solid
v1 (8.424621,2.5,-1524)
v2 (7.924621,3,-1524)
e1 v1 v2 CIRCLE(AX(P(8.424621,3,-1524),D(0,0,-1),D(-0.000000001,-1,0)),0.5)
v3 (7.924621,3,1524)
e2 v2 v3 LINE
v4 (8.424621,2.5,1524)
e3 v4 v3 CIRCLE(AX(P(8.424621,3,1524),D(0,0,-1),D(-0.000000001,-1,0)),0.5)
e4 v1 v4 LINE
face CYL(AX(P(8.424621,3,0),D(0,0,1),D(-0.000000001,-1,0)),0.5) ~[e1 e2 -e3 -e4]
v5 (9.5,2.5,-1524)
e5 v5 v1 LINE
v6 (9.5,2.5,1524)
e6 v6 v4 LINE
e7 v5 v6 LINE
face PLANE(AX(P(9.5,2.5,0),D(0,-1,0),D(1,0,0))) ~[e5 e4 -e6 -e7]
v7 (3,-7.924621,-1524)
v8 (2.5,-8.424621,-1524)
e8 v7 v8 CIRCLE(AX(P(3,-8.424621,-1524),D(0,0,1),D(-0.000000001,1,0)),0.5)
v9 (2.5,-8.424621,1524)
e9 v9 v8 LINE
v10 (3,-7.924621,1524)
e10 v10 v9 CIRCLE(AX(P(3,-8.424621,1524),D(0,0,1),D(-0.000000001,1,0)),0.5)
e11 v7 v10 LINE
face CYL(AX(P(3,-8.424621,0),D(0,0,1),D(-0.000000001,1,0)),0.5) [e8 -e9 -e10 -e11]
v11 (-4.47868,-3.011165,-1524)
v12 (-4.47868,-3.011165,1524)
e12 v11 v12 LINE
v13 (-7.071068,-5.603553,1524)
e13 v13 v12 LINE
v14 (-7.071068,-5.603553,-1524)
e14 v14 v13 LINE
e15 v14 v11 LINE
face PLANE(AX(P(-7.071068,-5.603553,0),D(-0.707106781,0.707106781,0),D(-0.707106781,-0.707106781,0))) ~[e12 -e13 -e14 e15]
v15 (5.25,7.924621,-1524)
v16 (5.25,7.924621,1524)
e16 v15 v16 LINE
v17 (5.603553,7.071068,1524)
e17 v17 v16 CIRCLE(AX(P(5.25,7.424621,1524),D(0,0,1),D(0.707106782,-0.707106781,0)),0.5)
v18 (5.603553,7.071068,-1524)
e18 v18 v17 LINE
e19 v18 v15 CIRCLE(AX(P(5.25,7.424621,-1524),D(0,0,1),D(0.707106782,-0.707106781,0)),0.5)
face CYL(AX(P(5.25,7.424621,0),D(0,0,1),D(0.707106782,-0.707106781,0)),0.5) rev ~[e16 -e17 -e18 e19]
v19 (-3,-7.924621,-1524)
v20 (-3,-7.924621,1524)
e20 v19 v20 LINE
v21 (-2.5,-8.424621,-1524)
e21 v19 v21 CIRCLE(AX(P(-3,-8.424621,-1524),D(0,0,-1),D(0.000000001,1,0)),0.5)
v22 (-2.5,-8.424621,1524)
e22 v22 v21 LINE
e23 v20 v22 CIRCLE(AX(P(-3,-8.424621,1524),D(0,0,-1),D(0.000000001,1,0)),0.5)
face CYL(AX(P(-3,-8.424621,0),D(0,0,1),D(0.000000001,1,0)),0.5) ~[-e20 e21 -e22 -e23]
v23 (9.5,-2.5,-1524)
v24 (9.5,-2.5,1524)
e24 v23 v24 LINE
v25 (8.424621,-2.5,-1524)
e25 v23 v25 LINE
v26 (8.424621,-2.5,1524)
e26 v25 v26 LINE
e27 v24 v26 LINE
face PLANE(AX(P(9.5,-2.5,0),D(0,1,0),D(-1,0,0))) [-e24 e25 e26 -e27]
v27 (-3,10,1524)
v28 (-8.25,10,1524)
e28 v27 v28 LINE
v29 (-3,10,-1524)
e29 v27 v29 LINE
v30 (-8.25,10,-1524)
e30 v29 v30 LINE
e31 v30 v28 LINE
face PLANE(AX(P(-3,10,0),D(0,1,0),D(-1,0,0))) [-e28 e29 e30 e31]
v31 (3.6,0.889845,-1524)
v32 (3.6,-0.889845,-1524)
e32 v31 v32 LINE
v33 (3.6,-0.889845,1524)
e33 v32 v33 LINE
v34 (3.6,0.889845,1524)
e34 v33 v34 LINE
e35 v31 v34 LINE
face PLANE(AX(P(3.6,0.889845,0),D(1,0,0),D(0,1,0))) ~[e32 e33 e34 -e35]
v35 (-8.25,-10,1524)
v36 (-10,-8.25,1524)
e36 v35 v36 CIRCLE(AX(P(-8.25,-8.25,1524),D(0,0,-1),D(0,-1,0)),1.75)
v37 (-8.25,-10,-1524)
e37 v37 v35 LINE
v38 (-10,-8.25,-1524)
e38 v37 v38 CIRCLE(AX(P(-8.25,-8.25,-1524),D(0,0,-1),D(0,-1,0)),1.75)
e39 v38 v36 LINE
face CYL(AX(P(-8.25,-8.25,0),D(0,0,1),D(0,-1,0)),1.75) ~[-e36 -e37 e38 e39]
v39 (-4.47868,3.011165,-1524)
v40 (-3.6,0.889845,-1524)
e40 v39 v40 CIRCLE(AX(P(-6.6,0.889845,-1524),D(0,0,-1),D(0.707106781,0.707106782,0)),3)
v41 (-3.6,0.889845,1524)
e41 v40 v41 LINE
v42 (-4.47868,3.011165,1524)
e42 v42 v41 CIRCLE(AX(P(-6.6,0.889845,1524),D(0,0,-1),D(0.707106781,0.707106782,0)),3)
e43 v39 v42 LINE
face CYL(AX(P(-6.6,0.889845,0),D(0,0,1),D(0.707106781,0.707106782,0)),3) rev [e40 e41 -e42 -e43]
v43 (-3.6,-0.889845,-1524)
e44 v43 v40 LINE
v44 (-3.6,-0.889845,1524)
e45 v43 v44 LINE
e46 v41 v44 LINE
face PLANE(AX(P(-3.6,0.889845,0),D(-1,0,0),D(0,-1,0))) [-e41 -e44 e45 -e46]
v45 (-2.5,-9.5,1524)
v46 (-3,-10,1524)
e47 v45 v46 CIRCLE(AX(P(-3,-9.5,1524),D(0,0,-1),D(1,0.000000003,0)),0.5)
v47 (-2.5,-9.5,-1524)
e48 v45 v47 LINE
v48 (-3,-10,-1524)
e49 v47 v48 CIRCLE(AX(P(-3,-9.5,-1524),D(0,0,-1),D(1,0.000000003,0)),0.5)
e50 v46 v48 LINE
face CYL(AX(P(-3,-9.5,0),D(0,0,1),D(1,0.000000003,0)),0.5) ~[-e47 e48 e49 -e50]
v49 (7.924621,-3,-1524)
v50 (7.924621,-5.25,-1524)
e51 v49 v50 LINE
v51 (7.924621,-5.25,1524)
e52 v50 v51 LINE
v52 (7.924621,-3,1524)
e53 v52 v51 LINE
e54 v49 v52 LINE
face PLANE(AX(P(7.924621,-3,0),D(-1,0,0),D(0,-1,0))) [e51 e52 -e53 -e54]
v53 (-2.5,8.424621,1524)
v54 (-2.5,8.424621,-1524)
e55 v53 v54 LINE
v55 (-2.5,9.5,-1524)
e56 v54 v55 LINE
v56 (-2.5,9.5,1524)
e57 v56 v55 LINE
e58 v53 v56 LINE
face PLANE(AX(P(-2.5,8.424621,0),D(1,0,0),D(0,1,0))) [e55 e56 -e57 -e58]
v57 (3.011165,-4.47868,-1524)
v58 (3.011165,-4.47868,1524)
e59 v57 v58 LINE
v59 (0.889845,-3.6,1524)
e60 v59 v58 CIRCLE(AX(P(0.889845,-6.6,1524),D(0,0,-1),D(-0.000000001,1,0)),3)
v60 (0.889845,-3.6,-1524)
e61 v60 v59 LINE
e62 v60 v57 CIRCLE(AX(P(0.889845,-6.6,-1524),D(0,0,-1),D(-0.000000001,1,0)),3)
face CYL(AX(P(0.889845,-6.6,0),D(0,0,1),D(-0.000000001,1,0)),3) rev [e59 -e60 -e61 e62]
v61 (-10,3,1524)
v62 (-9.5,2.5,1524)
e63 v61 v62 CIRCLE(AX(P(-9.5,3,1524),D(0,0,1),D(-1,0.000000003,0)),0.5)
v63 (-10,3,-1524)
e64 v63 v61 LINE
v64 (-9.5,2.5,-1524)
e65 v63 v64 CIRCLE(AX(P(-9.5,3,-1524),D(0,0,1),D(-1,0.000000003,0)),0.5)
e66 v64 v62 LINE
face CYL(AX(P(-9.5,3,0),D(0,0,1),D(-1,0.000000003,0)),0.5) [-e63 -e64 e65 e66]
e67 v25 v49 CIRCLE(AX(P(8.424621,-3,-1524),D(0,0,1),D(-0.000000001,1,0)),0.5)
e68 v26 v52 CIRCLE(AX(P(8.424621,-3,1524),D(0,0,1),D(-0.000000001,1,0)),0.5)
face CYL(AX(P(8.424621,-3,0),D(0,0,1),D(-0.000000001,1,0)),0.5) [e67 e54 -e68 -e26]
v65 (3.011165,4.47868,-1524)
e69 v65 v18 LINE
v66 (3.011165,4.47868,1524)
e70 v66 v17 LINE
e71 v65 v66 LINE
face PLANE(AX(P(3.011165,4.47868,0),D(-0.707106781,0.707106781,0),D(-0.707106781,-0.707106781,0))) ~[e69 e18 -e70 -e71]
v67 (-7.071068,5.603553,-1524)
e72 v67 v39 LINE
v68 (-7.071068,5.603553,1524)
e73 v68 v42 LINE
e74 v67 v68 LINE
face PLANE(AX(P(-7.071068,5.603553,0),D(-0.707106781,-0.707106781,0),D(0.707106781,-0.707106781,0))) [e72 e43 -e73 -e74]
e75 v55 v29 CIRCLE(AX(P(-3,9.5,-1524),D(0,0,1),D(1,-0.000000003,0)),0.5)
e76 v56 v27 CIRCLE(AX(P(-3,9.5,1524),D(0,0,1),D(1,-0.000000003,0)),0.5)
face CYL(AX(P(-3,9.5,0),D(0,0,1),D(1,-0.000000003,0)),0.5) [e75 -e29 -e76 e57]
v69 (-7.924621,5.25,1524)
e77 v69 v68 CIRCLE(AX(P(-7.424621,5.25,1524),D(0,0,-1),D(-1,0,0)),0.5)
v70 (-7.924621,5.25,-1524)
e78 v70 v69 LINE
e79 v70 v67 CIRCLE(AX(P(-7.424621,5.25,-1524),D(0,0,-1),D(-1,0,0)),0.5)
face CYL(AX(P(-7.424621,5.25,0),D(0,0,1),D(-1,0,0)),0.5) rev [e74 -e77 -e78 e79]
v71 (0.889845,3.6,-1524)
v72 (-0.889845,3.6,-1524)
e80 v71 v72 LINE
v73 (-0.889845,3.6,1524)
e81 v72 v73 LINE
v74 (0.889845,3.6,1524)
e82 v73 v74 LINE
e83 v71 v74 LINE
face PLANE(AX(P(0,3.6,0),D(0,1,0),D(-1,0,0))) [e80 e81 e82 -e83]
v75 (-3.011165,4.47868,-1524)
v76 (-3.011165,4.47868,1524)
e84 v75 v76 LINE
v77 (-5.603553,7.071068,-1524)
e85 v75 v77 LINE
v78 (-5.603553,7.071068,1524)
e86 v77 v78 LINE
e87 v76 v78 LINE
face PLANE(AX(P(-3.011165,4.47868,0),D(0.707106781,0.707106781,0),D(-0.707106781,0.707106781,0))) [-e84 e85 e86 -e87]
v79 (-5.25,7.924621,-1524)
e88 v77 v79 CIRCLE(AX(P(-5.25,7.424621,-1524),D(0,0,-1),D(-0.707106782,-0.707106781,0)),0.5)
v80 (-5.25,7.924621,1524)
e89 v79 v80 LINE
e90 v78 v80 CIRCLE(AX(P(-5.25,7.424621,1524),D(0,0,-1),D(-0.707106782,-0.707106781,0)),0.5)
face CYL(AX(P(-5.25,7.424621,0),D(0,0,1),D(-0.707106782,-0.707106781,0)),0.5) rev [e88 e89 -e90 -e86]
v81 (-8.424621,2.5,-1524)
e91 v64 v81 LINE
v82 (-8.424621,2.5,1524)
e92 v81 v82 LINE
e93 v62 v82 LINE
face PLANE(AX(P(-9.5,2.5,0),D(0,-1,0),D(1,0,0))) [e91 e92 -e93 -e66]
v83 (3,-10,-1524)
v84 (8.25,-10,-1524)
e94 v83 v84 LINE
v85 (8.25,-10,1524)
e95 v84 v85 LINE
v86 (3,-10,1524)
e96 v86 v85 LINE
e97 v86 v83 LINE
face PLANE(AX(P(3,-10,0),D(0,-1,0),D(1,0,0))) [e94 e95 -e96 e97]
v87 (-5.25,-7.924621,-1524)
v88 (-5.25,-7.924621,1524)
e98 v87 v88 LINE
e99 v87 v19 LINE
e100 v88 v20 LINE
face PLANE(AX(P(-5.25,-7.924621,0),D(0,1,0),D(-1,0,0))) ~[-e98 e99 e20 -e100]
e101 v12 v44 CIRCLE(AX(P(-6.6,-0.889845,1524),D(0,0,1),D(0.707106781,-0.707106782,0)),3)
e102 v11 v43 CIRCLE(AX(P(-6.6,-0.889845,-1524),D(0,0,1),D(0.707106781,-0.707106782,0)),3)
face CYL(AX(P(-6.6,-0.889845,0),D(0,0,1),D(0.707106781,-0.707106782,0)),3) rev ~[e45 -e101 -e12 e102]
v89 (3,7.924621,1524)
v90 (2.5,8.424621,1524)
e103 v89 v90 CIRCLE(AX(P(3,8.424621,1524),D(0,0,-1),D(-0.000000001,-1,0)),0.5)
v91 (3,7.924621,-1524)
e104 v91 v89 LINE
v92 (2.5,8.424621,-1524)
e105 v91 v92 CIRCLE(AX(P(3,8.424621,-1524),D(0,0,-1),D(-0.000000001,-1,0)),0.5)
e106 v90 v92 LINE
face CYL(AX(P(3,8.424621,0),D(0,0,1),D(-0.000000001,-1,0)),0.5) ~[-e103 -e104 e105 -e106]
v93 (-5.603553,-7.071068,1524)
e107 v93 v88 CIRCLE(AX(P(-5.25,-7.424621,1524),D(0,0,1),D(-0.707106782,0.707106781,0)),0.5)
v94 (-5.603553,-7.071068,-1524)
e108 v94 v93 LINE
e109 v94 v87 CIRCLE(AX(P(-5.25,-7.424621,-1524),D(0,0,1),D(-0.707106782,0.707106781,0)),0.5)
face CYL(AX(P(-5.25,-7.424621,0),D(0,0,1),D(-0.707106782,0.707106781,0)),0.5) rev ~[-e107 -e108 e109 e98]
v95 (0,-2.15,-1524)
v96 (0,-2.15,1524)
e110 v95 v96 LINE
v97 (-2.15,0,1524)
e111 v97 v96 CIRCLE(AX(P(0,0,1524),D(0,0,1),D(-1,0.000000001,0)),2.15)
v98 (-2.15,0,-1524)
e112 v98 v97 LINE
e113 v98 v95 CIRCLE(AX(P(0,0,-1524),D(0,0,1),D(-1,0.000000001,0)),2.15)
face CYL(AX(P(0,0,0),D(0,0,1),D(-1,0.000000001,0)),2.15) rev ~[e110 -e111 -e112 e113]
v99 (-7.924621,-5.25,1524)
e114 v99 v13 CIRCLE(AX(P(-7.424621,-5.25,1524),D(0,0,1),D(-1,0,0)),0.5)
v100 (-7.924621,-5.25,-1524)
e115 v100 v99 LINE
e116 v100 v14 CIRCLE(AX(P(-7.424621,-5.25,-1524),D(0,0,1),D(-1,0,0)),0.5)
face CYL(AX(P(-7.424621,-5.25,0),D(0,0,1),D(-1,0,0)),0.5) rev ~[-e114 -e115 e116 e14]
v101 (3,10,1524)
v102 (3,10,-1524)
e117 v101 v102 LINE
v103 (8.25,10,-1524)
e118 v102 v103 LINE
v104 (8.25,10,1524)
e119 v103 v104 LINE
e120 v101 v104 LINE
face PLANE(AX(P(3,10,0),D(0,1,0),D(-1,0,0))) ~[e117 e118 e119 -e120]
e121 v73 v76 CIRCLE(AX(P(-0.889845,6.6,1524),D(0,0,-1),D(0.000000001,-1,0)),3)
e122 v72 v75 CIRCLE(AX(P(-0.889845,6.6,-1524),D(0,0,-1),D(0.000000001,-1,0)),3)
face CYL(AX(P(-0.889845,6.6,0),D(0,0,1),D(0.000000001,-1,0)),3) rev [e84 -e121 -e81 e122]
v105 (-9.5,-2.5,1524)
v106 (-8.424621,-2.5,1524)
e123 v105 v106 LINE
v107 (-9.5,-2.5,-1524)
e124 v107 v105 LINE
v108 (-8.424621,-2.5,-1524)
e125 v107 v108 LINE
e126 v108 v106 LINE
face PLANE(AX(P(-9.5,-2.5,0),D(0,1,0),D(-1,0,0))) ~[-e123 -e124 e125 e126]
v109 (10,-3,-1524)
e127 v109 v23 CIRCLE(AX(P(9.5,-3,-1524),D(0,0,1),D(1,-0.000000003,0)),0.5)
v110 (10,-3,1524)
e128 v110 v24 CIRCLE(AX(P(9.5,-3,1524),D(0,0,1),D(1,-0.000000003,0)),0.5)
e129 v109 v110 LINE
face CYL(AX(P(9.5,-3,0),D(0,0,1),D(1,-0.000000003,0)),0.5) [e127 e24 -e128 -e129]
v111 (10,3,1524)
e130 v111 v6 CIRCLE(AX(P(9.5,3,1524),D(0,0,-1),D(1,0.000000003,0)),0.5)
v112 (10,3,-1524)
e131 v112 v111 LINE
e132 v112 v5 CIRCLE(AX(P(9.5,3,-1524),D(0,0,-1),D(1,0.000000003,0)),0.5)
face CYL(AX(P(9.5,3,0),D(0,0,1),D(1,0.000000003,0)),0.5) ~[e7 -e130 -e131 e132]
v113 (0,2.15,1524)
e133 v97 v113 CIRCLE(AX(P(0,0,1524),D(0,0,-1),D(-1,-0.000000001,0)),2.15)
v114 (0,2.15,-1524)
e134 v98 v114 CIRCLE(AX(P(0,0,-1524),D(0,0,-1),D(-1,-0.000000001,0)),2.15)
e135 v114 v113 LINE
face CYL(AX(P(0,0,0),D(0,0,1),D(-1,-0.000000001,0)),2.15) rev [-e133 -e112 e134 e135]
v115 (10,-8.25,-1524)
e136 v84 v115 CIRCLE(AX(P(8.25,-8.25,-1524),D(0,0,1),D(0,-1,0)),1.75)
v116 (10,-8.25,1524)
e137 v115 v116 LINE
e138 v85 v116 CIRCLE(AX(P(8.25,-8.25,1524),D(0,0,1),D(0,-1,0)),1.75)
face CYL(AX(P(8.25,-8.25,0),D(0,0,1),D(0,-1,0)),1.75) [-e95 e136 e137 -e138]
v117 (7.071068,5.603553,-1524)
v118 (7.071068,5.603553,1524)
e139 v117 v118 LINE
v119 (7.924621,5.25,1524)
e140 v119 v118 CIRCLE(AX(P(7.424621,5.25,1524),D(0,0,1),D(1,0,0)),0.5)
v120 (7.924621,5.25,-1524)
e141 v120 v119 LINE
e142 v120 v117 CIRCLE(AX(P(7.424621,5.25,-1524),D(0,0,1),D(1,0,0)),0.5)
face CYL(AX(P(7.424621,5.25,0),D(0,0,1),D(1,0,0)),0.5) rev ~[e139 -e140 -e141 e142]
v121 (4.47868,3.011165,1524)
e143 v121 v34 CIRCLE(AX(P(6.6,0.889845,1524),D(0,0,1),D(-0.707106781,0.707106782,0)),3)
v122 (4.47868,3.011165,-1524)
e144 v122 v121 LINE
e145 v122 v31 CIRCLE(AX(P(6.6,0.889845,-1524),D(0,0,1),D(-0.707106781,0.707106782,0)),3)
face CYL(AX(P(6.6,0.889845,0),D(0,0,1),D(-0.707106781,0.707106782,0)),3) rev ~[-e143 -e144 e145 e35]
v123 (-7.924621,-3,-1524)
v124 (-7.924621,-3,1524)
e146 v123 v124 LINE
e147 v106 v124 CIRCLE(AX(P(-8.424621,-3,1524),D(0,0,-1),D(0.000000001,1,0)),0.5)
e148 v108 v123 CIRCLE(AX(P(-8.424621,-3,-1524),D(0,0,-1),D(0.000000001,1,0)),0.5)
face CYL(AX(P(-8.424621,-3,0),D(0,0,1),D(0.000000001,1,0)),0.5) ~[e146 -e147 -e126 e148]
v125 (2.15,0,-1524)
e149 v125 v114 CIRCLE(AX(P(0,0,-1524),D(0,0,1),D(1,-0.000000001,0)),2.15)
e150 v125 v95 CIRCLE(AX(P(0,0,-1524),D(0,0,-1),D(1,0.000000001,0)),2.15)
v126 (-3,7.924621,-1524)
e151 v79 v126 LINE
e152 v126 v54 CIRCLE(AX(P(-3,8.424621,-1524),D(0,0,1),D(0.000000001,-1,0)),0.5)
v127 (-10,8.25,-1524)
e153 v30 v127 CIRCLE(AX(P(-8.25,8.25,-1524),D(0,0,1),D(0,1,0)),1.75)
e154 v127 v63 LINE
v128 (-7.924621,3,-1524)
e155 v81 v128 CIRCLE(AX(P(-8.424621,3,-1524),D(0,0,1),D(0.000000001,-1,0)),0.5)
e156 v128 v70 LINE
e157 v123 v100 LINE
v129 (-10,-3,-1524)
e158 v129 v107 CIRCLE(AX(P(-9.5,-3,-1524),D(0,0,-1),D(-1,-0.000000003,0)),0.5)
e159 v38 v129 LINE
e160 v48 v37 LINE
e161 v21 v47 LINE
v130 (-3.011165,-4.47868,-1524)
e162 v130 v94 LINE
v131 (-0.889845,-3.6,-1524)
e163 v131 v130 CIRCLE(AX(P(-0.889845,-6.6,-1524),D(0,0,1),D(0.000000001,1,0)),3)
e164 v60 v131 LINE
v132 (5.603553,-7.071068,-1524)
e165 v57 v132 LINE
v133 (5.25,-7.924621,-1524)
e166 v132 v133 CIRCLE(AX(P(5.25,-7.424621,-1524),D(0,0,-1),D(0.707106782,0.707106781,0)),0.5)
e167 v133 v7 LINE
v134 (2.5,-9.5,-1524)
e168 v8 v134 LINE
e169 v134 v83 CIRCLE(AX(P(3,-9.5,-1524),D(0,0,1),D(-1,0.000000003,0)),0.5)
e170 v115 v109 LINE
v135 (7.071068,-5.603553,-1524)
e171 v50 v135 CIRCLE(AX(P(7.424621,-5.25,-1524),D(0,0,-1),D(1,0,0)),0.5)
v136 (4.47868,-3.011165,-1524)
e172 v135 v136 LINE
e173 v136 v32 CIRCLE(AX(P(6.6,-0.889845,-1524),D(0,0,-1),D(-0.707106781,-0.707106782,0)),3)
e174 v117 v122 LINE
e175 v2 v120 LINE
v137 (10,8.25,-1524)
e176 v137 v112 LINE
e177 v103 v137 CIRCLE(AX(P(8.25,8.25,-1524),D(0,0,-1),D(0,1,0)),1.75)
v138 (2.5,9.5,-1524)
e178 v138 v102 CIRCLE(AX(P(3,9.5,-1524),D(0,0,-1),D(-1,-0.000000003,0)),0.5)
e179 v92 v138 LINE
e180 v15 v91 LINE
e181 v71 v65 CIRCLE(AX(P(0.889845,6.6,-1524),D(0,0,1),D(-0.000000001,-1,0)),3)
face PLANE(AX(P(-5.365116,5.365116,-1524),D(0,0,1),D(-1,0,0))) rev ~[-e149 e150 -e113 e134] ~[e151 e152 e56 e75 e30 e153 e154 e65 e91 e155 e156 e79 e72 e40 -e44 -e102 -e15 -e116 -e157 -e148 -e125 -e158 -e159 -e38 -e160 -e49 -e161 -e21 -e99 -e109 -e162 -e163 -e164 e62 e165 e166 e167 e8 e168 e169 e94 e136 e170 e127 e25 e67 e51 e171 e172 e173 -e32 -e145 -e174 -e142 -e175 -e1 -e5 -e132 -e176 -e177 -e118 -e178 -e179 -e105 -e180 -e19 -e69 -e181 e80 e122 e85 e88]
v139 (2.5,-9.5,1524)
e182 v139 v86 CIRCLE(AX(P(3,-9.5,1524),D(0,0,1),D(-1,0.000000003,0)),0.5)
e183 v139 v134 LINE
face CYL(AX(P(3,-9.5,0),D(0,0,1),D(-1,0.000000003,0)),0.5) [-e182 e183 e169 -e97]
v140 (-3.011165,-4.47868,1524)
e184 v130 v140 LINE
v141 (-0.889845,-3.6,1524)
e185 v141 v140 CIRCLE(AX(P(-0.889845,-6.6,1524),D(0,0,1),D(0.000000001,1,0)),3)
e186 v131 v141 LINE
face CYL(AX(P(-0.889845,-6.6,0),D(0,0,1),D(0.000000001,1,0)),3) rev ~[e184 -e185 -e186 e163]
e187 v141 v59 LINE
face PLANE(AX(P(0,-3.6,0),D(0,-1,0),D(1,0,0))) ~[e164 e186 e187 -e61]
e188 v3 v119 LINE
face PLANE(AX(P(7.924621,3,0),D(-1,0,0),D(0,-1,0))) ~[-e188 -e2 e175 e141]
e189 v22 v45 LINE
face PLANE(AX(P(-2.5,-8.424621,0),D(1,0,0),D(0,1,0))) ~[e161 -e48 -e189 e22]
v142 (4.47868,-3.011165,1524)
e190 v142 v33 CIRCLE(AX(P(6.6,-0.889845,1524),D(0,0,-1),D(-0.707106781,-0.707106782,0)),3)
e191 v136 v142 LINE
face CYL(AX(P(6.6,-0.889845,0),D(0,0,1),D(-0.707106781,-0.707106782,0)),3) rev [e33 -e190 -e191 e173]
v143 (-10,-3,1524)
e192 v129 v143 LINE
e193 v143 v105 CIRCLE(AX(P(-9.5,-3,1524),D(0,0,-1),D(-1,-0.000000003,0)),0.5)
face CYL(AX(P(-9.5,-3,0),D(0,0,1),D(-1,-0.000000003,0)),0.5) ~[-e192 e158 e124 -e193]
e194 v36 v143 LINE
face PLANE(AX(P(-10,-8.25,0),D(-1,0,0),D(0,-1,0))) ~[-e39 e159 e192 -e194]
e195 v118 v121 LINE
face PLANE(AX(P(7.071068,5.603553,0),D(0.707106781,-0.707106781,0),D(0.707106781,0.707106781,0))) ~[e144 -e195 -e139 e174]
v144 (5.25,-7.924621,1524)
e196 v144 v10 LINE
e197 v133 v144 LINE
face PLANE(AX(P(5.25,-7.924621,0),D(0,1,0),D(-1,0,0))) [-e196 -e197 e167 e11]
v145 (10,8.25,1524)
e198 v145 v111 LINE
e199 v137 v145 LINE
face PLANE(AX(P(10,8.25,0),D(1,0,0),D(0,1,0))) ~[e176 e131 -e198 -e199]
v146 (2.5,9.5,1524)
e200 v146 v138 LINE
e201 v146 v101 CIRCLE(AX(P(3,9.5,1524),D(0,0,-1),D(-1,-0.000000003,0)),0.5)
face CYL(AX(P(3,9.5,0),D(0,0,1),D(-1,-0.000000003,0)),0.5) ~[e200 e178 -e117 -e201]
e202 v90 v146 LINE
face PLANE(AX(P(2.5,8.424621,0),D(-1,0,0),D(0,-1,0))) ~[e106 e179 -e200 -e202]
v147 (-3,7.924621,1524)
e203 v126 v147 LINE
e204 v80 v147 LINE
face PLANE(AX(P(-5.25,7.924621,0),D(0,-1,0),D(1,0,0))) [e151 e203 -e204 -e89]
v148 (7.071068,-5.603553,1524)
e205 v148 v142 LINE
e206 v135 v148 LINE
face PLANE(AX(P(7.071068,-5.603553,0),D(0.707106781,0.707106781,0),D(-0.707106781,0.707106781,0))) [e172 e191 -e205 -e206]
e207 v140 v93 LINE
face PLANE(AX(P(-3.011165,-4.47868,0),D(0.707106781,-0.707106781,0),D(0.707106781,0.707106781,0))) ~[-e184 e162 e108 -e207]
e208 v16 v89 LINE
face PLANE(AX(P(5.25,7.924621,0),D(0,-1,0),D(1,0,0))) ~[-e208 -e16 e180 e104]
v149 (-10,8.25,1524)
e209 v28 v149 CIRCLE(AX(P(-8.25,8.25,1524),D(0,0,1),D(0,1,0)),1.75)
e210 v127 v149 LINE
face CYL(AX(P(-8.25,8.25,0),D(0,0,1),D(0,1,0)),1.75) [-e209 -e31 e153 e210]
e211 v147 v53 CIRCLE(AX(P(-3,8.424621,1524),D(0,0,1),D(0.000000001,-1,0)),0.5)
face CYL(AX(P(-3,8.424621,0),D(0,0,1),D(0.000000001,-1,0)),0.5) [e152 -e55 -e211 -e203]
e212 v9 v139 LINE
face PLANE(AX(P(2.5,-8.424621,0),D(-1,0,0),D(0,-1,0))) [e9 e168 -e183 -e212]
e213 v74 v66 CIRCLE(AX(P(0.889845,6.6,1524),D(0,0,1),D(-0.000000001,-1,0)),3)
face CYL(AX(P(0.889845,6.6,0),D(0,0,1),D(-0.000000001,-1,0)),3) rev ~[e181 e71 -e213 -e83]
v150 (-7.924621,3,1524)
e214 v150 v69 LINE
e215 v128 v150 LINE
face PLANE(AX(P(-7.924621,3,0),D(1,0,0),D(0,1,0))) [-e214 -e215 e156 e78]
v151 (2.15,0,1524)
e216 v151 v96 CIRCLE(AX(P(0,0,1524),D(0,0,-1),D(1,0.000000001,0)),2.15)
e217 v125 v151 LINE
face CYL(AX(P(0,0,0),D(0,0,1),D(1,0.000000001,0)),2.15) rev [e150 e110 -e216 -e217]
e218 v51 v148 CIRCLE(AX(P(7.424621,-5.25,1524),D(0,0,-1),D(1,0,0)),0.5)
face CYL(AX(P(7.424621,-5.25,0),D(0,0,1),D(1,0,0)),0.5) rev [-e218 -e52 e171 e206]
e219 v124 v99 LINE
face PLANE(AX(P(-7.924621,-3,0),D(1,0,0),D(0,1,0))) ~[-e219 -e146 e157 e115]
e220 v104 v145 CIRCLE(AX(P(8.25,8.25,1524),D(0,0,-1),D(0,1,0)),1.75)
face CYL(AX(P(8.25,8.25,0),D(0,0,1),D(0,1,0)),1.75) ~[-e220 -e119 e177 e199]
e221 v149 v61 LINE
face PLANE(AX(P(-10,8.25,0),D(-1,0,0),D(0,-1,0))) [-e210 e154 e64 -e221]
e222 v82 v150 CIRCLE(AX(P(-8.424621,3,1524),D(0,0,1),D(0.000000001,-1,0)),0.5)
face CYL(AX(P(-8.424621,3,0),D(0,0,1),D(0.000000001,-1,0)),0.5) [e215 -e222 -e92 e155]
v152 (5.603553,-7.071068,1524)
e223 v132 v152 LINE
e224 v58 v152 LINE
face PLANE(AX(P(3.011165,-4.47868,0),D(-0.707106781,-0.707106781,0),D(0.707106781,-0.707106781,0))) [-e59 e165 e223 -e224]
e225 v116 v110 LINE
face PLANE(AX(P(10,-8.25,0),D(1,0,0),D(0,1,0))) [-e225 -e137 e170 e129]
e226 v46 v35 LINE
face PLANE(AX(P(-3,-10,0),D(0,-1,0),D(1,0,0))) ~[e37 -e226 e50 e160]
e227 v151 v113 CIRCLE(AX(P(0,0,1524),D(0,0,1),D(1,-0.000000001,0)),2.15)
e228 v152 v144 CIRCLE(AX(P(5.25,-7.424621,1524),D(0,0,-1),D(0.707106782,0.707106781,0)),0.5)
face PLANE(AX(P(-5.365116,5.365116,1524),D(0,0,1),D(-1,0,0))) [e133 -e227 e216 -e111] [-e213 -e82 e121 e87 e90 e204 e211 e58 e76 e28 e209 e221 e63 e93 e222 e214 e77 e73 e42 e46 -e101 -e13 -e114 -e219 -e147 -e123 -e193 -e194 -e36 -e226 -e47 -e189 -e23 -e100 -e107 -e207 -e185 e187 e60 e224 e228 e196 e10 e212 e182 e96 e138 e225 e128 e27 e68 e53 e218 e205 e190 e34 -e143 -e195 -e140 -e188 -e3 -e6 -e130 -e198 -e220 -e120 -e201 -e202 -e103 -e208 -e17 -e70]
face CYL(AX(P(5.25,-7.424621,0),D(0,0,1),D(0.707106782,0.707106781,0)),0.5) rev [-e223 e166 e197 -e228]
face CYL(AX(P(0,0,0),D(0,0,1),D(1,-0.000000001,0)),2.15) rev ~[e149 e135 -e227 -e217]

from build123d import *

# Parameters (mm, degrees)
BOSS_EXTRUDE1_DEPTH = 1524


with BuildPart() as part:
    # Sketch4 → Boss-Extrude1 (new, symmetric)
    with BuildSketch(Plane.XY):
        with BuildLine():
            Line((3, -10), (8.25, -10))
            ThreePointArc((8.25, -10), (9.487436867, -9.487436867), (10, -8.25))
            Line((10, -8.25), (10, -3))
            ThreePointArc((10, -3), (9.853553391, -2.646446609), (9.5, -2.5))
            Line((9.5, -2.5), (8.424621202, -2.5))
            ThreePointArc((8.424621202, -2.5), (8.071067812, -2.646446609), (7.924621202, -3))
            Line((7.924621202, -3), (7.924621202, -5.25))
            ThreePointArc((7.924621202, -5.25), (7.615962919, -5.711939766), (7.071067812, -5.603553391))
            Line((7.071067812, -5.603553391), (4.478679656, -3.011165235))
            ThreePointArc((4.478679656, -3.011165235), (3.828361402, -2.037895189), (3.6, -0.889844892))
            Line((3.6, -0.889844892), (3.6, 0))
            Line((3.6, 0), (2.15, 0))
            ThreePointArc((2.15, 0), (1.52027958, -1.52027958), (0, -2.15))
            Line((0, -2.15), (0, -3.6))
            Line((0, -3.6), (0.889844892, -3.6))
            ThreePointArc((0.889844892, -3.6), (2.037895189, -3.828361402), (3.011165235, -4.478679656))
            Line((3.011165235, -4.478679656), (5.603553391, -7.071067812))
            ThreePointArc((5.603553391, -7.071067812), (5.711939766, -7.615962919), (5.25, -7.924621202))
            Line((5.25, -7.924621202), (3, -7.924621202))
            ThreePointArc((3, -7.924621202), (2.646446609, -8.071067812), (2.5, -8.424621202))
            Line((2.5, -8.424621202), (2.5, -9.5))
            ThreePointArc((2.5, -9.5), (2.646446609, -9.853553391), (3, -10))
        make_face()
    extrude(amount=BOSS_EXTRUDE1_DEPTH, both=True)

    # Mirror1: part across plane


with BuildPart() as part_1:
    add(part.part)
    add(part.part.mirror(Plane(origin=(0, 0, 0), x_dir=(0, 0, 1), z_dir=(1, 0, 0))))

    # Mirror2: part across plane


with BuildPart() as part_2:
    add(part_1.part)
    add(part_1.part.mirror(Plane.ZX))


solid = part_2.part
